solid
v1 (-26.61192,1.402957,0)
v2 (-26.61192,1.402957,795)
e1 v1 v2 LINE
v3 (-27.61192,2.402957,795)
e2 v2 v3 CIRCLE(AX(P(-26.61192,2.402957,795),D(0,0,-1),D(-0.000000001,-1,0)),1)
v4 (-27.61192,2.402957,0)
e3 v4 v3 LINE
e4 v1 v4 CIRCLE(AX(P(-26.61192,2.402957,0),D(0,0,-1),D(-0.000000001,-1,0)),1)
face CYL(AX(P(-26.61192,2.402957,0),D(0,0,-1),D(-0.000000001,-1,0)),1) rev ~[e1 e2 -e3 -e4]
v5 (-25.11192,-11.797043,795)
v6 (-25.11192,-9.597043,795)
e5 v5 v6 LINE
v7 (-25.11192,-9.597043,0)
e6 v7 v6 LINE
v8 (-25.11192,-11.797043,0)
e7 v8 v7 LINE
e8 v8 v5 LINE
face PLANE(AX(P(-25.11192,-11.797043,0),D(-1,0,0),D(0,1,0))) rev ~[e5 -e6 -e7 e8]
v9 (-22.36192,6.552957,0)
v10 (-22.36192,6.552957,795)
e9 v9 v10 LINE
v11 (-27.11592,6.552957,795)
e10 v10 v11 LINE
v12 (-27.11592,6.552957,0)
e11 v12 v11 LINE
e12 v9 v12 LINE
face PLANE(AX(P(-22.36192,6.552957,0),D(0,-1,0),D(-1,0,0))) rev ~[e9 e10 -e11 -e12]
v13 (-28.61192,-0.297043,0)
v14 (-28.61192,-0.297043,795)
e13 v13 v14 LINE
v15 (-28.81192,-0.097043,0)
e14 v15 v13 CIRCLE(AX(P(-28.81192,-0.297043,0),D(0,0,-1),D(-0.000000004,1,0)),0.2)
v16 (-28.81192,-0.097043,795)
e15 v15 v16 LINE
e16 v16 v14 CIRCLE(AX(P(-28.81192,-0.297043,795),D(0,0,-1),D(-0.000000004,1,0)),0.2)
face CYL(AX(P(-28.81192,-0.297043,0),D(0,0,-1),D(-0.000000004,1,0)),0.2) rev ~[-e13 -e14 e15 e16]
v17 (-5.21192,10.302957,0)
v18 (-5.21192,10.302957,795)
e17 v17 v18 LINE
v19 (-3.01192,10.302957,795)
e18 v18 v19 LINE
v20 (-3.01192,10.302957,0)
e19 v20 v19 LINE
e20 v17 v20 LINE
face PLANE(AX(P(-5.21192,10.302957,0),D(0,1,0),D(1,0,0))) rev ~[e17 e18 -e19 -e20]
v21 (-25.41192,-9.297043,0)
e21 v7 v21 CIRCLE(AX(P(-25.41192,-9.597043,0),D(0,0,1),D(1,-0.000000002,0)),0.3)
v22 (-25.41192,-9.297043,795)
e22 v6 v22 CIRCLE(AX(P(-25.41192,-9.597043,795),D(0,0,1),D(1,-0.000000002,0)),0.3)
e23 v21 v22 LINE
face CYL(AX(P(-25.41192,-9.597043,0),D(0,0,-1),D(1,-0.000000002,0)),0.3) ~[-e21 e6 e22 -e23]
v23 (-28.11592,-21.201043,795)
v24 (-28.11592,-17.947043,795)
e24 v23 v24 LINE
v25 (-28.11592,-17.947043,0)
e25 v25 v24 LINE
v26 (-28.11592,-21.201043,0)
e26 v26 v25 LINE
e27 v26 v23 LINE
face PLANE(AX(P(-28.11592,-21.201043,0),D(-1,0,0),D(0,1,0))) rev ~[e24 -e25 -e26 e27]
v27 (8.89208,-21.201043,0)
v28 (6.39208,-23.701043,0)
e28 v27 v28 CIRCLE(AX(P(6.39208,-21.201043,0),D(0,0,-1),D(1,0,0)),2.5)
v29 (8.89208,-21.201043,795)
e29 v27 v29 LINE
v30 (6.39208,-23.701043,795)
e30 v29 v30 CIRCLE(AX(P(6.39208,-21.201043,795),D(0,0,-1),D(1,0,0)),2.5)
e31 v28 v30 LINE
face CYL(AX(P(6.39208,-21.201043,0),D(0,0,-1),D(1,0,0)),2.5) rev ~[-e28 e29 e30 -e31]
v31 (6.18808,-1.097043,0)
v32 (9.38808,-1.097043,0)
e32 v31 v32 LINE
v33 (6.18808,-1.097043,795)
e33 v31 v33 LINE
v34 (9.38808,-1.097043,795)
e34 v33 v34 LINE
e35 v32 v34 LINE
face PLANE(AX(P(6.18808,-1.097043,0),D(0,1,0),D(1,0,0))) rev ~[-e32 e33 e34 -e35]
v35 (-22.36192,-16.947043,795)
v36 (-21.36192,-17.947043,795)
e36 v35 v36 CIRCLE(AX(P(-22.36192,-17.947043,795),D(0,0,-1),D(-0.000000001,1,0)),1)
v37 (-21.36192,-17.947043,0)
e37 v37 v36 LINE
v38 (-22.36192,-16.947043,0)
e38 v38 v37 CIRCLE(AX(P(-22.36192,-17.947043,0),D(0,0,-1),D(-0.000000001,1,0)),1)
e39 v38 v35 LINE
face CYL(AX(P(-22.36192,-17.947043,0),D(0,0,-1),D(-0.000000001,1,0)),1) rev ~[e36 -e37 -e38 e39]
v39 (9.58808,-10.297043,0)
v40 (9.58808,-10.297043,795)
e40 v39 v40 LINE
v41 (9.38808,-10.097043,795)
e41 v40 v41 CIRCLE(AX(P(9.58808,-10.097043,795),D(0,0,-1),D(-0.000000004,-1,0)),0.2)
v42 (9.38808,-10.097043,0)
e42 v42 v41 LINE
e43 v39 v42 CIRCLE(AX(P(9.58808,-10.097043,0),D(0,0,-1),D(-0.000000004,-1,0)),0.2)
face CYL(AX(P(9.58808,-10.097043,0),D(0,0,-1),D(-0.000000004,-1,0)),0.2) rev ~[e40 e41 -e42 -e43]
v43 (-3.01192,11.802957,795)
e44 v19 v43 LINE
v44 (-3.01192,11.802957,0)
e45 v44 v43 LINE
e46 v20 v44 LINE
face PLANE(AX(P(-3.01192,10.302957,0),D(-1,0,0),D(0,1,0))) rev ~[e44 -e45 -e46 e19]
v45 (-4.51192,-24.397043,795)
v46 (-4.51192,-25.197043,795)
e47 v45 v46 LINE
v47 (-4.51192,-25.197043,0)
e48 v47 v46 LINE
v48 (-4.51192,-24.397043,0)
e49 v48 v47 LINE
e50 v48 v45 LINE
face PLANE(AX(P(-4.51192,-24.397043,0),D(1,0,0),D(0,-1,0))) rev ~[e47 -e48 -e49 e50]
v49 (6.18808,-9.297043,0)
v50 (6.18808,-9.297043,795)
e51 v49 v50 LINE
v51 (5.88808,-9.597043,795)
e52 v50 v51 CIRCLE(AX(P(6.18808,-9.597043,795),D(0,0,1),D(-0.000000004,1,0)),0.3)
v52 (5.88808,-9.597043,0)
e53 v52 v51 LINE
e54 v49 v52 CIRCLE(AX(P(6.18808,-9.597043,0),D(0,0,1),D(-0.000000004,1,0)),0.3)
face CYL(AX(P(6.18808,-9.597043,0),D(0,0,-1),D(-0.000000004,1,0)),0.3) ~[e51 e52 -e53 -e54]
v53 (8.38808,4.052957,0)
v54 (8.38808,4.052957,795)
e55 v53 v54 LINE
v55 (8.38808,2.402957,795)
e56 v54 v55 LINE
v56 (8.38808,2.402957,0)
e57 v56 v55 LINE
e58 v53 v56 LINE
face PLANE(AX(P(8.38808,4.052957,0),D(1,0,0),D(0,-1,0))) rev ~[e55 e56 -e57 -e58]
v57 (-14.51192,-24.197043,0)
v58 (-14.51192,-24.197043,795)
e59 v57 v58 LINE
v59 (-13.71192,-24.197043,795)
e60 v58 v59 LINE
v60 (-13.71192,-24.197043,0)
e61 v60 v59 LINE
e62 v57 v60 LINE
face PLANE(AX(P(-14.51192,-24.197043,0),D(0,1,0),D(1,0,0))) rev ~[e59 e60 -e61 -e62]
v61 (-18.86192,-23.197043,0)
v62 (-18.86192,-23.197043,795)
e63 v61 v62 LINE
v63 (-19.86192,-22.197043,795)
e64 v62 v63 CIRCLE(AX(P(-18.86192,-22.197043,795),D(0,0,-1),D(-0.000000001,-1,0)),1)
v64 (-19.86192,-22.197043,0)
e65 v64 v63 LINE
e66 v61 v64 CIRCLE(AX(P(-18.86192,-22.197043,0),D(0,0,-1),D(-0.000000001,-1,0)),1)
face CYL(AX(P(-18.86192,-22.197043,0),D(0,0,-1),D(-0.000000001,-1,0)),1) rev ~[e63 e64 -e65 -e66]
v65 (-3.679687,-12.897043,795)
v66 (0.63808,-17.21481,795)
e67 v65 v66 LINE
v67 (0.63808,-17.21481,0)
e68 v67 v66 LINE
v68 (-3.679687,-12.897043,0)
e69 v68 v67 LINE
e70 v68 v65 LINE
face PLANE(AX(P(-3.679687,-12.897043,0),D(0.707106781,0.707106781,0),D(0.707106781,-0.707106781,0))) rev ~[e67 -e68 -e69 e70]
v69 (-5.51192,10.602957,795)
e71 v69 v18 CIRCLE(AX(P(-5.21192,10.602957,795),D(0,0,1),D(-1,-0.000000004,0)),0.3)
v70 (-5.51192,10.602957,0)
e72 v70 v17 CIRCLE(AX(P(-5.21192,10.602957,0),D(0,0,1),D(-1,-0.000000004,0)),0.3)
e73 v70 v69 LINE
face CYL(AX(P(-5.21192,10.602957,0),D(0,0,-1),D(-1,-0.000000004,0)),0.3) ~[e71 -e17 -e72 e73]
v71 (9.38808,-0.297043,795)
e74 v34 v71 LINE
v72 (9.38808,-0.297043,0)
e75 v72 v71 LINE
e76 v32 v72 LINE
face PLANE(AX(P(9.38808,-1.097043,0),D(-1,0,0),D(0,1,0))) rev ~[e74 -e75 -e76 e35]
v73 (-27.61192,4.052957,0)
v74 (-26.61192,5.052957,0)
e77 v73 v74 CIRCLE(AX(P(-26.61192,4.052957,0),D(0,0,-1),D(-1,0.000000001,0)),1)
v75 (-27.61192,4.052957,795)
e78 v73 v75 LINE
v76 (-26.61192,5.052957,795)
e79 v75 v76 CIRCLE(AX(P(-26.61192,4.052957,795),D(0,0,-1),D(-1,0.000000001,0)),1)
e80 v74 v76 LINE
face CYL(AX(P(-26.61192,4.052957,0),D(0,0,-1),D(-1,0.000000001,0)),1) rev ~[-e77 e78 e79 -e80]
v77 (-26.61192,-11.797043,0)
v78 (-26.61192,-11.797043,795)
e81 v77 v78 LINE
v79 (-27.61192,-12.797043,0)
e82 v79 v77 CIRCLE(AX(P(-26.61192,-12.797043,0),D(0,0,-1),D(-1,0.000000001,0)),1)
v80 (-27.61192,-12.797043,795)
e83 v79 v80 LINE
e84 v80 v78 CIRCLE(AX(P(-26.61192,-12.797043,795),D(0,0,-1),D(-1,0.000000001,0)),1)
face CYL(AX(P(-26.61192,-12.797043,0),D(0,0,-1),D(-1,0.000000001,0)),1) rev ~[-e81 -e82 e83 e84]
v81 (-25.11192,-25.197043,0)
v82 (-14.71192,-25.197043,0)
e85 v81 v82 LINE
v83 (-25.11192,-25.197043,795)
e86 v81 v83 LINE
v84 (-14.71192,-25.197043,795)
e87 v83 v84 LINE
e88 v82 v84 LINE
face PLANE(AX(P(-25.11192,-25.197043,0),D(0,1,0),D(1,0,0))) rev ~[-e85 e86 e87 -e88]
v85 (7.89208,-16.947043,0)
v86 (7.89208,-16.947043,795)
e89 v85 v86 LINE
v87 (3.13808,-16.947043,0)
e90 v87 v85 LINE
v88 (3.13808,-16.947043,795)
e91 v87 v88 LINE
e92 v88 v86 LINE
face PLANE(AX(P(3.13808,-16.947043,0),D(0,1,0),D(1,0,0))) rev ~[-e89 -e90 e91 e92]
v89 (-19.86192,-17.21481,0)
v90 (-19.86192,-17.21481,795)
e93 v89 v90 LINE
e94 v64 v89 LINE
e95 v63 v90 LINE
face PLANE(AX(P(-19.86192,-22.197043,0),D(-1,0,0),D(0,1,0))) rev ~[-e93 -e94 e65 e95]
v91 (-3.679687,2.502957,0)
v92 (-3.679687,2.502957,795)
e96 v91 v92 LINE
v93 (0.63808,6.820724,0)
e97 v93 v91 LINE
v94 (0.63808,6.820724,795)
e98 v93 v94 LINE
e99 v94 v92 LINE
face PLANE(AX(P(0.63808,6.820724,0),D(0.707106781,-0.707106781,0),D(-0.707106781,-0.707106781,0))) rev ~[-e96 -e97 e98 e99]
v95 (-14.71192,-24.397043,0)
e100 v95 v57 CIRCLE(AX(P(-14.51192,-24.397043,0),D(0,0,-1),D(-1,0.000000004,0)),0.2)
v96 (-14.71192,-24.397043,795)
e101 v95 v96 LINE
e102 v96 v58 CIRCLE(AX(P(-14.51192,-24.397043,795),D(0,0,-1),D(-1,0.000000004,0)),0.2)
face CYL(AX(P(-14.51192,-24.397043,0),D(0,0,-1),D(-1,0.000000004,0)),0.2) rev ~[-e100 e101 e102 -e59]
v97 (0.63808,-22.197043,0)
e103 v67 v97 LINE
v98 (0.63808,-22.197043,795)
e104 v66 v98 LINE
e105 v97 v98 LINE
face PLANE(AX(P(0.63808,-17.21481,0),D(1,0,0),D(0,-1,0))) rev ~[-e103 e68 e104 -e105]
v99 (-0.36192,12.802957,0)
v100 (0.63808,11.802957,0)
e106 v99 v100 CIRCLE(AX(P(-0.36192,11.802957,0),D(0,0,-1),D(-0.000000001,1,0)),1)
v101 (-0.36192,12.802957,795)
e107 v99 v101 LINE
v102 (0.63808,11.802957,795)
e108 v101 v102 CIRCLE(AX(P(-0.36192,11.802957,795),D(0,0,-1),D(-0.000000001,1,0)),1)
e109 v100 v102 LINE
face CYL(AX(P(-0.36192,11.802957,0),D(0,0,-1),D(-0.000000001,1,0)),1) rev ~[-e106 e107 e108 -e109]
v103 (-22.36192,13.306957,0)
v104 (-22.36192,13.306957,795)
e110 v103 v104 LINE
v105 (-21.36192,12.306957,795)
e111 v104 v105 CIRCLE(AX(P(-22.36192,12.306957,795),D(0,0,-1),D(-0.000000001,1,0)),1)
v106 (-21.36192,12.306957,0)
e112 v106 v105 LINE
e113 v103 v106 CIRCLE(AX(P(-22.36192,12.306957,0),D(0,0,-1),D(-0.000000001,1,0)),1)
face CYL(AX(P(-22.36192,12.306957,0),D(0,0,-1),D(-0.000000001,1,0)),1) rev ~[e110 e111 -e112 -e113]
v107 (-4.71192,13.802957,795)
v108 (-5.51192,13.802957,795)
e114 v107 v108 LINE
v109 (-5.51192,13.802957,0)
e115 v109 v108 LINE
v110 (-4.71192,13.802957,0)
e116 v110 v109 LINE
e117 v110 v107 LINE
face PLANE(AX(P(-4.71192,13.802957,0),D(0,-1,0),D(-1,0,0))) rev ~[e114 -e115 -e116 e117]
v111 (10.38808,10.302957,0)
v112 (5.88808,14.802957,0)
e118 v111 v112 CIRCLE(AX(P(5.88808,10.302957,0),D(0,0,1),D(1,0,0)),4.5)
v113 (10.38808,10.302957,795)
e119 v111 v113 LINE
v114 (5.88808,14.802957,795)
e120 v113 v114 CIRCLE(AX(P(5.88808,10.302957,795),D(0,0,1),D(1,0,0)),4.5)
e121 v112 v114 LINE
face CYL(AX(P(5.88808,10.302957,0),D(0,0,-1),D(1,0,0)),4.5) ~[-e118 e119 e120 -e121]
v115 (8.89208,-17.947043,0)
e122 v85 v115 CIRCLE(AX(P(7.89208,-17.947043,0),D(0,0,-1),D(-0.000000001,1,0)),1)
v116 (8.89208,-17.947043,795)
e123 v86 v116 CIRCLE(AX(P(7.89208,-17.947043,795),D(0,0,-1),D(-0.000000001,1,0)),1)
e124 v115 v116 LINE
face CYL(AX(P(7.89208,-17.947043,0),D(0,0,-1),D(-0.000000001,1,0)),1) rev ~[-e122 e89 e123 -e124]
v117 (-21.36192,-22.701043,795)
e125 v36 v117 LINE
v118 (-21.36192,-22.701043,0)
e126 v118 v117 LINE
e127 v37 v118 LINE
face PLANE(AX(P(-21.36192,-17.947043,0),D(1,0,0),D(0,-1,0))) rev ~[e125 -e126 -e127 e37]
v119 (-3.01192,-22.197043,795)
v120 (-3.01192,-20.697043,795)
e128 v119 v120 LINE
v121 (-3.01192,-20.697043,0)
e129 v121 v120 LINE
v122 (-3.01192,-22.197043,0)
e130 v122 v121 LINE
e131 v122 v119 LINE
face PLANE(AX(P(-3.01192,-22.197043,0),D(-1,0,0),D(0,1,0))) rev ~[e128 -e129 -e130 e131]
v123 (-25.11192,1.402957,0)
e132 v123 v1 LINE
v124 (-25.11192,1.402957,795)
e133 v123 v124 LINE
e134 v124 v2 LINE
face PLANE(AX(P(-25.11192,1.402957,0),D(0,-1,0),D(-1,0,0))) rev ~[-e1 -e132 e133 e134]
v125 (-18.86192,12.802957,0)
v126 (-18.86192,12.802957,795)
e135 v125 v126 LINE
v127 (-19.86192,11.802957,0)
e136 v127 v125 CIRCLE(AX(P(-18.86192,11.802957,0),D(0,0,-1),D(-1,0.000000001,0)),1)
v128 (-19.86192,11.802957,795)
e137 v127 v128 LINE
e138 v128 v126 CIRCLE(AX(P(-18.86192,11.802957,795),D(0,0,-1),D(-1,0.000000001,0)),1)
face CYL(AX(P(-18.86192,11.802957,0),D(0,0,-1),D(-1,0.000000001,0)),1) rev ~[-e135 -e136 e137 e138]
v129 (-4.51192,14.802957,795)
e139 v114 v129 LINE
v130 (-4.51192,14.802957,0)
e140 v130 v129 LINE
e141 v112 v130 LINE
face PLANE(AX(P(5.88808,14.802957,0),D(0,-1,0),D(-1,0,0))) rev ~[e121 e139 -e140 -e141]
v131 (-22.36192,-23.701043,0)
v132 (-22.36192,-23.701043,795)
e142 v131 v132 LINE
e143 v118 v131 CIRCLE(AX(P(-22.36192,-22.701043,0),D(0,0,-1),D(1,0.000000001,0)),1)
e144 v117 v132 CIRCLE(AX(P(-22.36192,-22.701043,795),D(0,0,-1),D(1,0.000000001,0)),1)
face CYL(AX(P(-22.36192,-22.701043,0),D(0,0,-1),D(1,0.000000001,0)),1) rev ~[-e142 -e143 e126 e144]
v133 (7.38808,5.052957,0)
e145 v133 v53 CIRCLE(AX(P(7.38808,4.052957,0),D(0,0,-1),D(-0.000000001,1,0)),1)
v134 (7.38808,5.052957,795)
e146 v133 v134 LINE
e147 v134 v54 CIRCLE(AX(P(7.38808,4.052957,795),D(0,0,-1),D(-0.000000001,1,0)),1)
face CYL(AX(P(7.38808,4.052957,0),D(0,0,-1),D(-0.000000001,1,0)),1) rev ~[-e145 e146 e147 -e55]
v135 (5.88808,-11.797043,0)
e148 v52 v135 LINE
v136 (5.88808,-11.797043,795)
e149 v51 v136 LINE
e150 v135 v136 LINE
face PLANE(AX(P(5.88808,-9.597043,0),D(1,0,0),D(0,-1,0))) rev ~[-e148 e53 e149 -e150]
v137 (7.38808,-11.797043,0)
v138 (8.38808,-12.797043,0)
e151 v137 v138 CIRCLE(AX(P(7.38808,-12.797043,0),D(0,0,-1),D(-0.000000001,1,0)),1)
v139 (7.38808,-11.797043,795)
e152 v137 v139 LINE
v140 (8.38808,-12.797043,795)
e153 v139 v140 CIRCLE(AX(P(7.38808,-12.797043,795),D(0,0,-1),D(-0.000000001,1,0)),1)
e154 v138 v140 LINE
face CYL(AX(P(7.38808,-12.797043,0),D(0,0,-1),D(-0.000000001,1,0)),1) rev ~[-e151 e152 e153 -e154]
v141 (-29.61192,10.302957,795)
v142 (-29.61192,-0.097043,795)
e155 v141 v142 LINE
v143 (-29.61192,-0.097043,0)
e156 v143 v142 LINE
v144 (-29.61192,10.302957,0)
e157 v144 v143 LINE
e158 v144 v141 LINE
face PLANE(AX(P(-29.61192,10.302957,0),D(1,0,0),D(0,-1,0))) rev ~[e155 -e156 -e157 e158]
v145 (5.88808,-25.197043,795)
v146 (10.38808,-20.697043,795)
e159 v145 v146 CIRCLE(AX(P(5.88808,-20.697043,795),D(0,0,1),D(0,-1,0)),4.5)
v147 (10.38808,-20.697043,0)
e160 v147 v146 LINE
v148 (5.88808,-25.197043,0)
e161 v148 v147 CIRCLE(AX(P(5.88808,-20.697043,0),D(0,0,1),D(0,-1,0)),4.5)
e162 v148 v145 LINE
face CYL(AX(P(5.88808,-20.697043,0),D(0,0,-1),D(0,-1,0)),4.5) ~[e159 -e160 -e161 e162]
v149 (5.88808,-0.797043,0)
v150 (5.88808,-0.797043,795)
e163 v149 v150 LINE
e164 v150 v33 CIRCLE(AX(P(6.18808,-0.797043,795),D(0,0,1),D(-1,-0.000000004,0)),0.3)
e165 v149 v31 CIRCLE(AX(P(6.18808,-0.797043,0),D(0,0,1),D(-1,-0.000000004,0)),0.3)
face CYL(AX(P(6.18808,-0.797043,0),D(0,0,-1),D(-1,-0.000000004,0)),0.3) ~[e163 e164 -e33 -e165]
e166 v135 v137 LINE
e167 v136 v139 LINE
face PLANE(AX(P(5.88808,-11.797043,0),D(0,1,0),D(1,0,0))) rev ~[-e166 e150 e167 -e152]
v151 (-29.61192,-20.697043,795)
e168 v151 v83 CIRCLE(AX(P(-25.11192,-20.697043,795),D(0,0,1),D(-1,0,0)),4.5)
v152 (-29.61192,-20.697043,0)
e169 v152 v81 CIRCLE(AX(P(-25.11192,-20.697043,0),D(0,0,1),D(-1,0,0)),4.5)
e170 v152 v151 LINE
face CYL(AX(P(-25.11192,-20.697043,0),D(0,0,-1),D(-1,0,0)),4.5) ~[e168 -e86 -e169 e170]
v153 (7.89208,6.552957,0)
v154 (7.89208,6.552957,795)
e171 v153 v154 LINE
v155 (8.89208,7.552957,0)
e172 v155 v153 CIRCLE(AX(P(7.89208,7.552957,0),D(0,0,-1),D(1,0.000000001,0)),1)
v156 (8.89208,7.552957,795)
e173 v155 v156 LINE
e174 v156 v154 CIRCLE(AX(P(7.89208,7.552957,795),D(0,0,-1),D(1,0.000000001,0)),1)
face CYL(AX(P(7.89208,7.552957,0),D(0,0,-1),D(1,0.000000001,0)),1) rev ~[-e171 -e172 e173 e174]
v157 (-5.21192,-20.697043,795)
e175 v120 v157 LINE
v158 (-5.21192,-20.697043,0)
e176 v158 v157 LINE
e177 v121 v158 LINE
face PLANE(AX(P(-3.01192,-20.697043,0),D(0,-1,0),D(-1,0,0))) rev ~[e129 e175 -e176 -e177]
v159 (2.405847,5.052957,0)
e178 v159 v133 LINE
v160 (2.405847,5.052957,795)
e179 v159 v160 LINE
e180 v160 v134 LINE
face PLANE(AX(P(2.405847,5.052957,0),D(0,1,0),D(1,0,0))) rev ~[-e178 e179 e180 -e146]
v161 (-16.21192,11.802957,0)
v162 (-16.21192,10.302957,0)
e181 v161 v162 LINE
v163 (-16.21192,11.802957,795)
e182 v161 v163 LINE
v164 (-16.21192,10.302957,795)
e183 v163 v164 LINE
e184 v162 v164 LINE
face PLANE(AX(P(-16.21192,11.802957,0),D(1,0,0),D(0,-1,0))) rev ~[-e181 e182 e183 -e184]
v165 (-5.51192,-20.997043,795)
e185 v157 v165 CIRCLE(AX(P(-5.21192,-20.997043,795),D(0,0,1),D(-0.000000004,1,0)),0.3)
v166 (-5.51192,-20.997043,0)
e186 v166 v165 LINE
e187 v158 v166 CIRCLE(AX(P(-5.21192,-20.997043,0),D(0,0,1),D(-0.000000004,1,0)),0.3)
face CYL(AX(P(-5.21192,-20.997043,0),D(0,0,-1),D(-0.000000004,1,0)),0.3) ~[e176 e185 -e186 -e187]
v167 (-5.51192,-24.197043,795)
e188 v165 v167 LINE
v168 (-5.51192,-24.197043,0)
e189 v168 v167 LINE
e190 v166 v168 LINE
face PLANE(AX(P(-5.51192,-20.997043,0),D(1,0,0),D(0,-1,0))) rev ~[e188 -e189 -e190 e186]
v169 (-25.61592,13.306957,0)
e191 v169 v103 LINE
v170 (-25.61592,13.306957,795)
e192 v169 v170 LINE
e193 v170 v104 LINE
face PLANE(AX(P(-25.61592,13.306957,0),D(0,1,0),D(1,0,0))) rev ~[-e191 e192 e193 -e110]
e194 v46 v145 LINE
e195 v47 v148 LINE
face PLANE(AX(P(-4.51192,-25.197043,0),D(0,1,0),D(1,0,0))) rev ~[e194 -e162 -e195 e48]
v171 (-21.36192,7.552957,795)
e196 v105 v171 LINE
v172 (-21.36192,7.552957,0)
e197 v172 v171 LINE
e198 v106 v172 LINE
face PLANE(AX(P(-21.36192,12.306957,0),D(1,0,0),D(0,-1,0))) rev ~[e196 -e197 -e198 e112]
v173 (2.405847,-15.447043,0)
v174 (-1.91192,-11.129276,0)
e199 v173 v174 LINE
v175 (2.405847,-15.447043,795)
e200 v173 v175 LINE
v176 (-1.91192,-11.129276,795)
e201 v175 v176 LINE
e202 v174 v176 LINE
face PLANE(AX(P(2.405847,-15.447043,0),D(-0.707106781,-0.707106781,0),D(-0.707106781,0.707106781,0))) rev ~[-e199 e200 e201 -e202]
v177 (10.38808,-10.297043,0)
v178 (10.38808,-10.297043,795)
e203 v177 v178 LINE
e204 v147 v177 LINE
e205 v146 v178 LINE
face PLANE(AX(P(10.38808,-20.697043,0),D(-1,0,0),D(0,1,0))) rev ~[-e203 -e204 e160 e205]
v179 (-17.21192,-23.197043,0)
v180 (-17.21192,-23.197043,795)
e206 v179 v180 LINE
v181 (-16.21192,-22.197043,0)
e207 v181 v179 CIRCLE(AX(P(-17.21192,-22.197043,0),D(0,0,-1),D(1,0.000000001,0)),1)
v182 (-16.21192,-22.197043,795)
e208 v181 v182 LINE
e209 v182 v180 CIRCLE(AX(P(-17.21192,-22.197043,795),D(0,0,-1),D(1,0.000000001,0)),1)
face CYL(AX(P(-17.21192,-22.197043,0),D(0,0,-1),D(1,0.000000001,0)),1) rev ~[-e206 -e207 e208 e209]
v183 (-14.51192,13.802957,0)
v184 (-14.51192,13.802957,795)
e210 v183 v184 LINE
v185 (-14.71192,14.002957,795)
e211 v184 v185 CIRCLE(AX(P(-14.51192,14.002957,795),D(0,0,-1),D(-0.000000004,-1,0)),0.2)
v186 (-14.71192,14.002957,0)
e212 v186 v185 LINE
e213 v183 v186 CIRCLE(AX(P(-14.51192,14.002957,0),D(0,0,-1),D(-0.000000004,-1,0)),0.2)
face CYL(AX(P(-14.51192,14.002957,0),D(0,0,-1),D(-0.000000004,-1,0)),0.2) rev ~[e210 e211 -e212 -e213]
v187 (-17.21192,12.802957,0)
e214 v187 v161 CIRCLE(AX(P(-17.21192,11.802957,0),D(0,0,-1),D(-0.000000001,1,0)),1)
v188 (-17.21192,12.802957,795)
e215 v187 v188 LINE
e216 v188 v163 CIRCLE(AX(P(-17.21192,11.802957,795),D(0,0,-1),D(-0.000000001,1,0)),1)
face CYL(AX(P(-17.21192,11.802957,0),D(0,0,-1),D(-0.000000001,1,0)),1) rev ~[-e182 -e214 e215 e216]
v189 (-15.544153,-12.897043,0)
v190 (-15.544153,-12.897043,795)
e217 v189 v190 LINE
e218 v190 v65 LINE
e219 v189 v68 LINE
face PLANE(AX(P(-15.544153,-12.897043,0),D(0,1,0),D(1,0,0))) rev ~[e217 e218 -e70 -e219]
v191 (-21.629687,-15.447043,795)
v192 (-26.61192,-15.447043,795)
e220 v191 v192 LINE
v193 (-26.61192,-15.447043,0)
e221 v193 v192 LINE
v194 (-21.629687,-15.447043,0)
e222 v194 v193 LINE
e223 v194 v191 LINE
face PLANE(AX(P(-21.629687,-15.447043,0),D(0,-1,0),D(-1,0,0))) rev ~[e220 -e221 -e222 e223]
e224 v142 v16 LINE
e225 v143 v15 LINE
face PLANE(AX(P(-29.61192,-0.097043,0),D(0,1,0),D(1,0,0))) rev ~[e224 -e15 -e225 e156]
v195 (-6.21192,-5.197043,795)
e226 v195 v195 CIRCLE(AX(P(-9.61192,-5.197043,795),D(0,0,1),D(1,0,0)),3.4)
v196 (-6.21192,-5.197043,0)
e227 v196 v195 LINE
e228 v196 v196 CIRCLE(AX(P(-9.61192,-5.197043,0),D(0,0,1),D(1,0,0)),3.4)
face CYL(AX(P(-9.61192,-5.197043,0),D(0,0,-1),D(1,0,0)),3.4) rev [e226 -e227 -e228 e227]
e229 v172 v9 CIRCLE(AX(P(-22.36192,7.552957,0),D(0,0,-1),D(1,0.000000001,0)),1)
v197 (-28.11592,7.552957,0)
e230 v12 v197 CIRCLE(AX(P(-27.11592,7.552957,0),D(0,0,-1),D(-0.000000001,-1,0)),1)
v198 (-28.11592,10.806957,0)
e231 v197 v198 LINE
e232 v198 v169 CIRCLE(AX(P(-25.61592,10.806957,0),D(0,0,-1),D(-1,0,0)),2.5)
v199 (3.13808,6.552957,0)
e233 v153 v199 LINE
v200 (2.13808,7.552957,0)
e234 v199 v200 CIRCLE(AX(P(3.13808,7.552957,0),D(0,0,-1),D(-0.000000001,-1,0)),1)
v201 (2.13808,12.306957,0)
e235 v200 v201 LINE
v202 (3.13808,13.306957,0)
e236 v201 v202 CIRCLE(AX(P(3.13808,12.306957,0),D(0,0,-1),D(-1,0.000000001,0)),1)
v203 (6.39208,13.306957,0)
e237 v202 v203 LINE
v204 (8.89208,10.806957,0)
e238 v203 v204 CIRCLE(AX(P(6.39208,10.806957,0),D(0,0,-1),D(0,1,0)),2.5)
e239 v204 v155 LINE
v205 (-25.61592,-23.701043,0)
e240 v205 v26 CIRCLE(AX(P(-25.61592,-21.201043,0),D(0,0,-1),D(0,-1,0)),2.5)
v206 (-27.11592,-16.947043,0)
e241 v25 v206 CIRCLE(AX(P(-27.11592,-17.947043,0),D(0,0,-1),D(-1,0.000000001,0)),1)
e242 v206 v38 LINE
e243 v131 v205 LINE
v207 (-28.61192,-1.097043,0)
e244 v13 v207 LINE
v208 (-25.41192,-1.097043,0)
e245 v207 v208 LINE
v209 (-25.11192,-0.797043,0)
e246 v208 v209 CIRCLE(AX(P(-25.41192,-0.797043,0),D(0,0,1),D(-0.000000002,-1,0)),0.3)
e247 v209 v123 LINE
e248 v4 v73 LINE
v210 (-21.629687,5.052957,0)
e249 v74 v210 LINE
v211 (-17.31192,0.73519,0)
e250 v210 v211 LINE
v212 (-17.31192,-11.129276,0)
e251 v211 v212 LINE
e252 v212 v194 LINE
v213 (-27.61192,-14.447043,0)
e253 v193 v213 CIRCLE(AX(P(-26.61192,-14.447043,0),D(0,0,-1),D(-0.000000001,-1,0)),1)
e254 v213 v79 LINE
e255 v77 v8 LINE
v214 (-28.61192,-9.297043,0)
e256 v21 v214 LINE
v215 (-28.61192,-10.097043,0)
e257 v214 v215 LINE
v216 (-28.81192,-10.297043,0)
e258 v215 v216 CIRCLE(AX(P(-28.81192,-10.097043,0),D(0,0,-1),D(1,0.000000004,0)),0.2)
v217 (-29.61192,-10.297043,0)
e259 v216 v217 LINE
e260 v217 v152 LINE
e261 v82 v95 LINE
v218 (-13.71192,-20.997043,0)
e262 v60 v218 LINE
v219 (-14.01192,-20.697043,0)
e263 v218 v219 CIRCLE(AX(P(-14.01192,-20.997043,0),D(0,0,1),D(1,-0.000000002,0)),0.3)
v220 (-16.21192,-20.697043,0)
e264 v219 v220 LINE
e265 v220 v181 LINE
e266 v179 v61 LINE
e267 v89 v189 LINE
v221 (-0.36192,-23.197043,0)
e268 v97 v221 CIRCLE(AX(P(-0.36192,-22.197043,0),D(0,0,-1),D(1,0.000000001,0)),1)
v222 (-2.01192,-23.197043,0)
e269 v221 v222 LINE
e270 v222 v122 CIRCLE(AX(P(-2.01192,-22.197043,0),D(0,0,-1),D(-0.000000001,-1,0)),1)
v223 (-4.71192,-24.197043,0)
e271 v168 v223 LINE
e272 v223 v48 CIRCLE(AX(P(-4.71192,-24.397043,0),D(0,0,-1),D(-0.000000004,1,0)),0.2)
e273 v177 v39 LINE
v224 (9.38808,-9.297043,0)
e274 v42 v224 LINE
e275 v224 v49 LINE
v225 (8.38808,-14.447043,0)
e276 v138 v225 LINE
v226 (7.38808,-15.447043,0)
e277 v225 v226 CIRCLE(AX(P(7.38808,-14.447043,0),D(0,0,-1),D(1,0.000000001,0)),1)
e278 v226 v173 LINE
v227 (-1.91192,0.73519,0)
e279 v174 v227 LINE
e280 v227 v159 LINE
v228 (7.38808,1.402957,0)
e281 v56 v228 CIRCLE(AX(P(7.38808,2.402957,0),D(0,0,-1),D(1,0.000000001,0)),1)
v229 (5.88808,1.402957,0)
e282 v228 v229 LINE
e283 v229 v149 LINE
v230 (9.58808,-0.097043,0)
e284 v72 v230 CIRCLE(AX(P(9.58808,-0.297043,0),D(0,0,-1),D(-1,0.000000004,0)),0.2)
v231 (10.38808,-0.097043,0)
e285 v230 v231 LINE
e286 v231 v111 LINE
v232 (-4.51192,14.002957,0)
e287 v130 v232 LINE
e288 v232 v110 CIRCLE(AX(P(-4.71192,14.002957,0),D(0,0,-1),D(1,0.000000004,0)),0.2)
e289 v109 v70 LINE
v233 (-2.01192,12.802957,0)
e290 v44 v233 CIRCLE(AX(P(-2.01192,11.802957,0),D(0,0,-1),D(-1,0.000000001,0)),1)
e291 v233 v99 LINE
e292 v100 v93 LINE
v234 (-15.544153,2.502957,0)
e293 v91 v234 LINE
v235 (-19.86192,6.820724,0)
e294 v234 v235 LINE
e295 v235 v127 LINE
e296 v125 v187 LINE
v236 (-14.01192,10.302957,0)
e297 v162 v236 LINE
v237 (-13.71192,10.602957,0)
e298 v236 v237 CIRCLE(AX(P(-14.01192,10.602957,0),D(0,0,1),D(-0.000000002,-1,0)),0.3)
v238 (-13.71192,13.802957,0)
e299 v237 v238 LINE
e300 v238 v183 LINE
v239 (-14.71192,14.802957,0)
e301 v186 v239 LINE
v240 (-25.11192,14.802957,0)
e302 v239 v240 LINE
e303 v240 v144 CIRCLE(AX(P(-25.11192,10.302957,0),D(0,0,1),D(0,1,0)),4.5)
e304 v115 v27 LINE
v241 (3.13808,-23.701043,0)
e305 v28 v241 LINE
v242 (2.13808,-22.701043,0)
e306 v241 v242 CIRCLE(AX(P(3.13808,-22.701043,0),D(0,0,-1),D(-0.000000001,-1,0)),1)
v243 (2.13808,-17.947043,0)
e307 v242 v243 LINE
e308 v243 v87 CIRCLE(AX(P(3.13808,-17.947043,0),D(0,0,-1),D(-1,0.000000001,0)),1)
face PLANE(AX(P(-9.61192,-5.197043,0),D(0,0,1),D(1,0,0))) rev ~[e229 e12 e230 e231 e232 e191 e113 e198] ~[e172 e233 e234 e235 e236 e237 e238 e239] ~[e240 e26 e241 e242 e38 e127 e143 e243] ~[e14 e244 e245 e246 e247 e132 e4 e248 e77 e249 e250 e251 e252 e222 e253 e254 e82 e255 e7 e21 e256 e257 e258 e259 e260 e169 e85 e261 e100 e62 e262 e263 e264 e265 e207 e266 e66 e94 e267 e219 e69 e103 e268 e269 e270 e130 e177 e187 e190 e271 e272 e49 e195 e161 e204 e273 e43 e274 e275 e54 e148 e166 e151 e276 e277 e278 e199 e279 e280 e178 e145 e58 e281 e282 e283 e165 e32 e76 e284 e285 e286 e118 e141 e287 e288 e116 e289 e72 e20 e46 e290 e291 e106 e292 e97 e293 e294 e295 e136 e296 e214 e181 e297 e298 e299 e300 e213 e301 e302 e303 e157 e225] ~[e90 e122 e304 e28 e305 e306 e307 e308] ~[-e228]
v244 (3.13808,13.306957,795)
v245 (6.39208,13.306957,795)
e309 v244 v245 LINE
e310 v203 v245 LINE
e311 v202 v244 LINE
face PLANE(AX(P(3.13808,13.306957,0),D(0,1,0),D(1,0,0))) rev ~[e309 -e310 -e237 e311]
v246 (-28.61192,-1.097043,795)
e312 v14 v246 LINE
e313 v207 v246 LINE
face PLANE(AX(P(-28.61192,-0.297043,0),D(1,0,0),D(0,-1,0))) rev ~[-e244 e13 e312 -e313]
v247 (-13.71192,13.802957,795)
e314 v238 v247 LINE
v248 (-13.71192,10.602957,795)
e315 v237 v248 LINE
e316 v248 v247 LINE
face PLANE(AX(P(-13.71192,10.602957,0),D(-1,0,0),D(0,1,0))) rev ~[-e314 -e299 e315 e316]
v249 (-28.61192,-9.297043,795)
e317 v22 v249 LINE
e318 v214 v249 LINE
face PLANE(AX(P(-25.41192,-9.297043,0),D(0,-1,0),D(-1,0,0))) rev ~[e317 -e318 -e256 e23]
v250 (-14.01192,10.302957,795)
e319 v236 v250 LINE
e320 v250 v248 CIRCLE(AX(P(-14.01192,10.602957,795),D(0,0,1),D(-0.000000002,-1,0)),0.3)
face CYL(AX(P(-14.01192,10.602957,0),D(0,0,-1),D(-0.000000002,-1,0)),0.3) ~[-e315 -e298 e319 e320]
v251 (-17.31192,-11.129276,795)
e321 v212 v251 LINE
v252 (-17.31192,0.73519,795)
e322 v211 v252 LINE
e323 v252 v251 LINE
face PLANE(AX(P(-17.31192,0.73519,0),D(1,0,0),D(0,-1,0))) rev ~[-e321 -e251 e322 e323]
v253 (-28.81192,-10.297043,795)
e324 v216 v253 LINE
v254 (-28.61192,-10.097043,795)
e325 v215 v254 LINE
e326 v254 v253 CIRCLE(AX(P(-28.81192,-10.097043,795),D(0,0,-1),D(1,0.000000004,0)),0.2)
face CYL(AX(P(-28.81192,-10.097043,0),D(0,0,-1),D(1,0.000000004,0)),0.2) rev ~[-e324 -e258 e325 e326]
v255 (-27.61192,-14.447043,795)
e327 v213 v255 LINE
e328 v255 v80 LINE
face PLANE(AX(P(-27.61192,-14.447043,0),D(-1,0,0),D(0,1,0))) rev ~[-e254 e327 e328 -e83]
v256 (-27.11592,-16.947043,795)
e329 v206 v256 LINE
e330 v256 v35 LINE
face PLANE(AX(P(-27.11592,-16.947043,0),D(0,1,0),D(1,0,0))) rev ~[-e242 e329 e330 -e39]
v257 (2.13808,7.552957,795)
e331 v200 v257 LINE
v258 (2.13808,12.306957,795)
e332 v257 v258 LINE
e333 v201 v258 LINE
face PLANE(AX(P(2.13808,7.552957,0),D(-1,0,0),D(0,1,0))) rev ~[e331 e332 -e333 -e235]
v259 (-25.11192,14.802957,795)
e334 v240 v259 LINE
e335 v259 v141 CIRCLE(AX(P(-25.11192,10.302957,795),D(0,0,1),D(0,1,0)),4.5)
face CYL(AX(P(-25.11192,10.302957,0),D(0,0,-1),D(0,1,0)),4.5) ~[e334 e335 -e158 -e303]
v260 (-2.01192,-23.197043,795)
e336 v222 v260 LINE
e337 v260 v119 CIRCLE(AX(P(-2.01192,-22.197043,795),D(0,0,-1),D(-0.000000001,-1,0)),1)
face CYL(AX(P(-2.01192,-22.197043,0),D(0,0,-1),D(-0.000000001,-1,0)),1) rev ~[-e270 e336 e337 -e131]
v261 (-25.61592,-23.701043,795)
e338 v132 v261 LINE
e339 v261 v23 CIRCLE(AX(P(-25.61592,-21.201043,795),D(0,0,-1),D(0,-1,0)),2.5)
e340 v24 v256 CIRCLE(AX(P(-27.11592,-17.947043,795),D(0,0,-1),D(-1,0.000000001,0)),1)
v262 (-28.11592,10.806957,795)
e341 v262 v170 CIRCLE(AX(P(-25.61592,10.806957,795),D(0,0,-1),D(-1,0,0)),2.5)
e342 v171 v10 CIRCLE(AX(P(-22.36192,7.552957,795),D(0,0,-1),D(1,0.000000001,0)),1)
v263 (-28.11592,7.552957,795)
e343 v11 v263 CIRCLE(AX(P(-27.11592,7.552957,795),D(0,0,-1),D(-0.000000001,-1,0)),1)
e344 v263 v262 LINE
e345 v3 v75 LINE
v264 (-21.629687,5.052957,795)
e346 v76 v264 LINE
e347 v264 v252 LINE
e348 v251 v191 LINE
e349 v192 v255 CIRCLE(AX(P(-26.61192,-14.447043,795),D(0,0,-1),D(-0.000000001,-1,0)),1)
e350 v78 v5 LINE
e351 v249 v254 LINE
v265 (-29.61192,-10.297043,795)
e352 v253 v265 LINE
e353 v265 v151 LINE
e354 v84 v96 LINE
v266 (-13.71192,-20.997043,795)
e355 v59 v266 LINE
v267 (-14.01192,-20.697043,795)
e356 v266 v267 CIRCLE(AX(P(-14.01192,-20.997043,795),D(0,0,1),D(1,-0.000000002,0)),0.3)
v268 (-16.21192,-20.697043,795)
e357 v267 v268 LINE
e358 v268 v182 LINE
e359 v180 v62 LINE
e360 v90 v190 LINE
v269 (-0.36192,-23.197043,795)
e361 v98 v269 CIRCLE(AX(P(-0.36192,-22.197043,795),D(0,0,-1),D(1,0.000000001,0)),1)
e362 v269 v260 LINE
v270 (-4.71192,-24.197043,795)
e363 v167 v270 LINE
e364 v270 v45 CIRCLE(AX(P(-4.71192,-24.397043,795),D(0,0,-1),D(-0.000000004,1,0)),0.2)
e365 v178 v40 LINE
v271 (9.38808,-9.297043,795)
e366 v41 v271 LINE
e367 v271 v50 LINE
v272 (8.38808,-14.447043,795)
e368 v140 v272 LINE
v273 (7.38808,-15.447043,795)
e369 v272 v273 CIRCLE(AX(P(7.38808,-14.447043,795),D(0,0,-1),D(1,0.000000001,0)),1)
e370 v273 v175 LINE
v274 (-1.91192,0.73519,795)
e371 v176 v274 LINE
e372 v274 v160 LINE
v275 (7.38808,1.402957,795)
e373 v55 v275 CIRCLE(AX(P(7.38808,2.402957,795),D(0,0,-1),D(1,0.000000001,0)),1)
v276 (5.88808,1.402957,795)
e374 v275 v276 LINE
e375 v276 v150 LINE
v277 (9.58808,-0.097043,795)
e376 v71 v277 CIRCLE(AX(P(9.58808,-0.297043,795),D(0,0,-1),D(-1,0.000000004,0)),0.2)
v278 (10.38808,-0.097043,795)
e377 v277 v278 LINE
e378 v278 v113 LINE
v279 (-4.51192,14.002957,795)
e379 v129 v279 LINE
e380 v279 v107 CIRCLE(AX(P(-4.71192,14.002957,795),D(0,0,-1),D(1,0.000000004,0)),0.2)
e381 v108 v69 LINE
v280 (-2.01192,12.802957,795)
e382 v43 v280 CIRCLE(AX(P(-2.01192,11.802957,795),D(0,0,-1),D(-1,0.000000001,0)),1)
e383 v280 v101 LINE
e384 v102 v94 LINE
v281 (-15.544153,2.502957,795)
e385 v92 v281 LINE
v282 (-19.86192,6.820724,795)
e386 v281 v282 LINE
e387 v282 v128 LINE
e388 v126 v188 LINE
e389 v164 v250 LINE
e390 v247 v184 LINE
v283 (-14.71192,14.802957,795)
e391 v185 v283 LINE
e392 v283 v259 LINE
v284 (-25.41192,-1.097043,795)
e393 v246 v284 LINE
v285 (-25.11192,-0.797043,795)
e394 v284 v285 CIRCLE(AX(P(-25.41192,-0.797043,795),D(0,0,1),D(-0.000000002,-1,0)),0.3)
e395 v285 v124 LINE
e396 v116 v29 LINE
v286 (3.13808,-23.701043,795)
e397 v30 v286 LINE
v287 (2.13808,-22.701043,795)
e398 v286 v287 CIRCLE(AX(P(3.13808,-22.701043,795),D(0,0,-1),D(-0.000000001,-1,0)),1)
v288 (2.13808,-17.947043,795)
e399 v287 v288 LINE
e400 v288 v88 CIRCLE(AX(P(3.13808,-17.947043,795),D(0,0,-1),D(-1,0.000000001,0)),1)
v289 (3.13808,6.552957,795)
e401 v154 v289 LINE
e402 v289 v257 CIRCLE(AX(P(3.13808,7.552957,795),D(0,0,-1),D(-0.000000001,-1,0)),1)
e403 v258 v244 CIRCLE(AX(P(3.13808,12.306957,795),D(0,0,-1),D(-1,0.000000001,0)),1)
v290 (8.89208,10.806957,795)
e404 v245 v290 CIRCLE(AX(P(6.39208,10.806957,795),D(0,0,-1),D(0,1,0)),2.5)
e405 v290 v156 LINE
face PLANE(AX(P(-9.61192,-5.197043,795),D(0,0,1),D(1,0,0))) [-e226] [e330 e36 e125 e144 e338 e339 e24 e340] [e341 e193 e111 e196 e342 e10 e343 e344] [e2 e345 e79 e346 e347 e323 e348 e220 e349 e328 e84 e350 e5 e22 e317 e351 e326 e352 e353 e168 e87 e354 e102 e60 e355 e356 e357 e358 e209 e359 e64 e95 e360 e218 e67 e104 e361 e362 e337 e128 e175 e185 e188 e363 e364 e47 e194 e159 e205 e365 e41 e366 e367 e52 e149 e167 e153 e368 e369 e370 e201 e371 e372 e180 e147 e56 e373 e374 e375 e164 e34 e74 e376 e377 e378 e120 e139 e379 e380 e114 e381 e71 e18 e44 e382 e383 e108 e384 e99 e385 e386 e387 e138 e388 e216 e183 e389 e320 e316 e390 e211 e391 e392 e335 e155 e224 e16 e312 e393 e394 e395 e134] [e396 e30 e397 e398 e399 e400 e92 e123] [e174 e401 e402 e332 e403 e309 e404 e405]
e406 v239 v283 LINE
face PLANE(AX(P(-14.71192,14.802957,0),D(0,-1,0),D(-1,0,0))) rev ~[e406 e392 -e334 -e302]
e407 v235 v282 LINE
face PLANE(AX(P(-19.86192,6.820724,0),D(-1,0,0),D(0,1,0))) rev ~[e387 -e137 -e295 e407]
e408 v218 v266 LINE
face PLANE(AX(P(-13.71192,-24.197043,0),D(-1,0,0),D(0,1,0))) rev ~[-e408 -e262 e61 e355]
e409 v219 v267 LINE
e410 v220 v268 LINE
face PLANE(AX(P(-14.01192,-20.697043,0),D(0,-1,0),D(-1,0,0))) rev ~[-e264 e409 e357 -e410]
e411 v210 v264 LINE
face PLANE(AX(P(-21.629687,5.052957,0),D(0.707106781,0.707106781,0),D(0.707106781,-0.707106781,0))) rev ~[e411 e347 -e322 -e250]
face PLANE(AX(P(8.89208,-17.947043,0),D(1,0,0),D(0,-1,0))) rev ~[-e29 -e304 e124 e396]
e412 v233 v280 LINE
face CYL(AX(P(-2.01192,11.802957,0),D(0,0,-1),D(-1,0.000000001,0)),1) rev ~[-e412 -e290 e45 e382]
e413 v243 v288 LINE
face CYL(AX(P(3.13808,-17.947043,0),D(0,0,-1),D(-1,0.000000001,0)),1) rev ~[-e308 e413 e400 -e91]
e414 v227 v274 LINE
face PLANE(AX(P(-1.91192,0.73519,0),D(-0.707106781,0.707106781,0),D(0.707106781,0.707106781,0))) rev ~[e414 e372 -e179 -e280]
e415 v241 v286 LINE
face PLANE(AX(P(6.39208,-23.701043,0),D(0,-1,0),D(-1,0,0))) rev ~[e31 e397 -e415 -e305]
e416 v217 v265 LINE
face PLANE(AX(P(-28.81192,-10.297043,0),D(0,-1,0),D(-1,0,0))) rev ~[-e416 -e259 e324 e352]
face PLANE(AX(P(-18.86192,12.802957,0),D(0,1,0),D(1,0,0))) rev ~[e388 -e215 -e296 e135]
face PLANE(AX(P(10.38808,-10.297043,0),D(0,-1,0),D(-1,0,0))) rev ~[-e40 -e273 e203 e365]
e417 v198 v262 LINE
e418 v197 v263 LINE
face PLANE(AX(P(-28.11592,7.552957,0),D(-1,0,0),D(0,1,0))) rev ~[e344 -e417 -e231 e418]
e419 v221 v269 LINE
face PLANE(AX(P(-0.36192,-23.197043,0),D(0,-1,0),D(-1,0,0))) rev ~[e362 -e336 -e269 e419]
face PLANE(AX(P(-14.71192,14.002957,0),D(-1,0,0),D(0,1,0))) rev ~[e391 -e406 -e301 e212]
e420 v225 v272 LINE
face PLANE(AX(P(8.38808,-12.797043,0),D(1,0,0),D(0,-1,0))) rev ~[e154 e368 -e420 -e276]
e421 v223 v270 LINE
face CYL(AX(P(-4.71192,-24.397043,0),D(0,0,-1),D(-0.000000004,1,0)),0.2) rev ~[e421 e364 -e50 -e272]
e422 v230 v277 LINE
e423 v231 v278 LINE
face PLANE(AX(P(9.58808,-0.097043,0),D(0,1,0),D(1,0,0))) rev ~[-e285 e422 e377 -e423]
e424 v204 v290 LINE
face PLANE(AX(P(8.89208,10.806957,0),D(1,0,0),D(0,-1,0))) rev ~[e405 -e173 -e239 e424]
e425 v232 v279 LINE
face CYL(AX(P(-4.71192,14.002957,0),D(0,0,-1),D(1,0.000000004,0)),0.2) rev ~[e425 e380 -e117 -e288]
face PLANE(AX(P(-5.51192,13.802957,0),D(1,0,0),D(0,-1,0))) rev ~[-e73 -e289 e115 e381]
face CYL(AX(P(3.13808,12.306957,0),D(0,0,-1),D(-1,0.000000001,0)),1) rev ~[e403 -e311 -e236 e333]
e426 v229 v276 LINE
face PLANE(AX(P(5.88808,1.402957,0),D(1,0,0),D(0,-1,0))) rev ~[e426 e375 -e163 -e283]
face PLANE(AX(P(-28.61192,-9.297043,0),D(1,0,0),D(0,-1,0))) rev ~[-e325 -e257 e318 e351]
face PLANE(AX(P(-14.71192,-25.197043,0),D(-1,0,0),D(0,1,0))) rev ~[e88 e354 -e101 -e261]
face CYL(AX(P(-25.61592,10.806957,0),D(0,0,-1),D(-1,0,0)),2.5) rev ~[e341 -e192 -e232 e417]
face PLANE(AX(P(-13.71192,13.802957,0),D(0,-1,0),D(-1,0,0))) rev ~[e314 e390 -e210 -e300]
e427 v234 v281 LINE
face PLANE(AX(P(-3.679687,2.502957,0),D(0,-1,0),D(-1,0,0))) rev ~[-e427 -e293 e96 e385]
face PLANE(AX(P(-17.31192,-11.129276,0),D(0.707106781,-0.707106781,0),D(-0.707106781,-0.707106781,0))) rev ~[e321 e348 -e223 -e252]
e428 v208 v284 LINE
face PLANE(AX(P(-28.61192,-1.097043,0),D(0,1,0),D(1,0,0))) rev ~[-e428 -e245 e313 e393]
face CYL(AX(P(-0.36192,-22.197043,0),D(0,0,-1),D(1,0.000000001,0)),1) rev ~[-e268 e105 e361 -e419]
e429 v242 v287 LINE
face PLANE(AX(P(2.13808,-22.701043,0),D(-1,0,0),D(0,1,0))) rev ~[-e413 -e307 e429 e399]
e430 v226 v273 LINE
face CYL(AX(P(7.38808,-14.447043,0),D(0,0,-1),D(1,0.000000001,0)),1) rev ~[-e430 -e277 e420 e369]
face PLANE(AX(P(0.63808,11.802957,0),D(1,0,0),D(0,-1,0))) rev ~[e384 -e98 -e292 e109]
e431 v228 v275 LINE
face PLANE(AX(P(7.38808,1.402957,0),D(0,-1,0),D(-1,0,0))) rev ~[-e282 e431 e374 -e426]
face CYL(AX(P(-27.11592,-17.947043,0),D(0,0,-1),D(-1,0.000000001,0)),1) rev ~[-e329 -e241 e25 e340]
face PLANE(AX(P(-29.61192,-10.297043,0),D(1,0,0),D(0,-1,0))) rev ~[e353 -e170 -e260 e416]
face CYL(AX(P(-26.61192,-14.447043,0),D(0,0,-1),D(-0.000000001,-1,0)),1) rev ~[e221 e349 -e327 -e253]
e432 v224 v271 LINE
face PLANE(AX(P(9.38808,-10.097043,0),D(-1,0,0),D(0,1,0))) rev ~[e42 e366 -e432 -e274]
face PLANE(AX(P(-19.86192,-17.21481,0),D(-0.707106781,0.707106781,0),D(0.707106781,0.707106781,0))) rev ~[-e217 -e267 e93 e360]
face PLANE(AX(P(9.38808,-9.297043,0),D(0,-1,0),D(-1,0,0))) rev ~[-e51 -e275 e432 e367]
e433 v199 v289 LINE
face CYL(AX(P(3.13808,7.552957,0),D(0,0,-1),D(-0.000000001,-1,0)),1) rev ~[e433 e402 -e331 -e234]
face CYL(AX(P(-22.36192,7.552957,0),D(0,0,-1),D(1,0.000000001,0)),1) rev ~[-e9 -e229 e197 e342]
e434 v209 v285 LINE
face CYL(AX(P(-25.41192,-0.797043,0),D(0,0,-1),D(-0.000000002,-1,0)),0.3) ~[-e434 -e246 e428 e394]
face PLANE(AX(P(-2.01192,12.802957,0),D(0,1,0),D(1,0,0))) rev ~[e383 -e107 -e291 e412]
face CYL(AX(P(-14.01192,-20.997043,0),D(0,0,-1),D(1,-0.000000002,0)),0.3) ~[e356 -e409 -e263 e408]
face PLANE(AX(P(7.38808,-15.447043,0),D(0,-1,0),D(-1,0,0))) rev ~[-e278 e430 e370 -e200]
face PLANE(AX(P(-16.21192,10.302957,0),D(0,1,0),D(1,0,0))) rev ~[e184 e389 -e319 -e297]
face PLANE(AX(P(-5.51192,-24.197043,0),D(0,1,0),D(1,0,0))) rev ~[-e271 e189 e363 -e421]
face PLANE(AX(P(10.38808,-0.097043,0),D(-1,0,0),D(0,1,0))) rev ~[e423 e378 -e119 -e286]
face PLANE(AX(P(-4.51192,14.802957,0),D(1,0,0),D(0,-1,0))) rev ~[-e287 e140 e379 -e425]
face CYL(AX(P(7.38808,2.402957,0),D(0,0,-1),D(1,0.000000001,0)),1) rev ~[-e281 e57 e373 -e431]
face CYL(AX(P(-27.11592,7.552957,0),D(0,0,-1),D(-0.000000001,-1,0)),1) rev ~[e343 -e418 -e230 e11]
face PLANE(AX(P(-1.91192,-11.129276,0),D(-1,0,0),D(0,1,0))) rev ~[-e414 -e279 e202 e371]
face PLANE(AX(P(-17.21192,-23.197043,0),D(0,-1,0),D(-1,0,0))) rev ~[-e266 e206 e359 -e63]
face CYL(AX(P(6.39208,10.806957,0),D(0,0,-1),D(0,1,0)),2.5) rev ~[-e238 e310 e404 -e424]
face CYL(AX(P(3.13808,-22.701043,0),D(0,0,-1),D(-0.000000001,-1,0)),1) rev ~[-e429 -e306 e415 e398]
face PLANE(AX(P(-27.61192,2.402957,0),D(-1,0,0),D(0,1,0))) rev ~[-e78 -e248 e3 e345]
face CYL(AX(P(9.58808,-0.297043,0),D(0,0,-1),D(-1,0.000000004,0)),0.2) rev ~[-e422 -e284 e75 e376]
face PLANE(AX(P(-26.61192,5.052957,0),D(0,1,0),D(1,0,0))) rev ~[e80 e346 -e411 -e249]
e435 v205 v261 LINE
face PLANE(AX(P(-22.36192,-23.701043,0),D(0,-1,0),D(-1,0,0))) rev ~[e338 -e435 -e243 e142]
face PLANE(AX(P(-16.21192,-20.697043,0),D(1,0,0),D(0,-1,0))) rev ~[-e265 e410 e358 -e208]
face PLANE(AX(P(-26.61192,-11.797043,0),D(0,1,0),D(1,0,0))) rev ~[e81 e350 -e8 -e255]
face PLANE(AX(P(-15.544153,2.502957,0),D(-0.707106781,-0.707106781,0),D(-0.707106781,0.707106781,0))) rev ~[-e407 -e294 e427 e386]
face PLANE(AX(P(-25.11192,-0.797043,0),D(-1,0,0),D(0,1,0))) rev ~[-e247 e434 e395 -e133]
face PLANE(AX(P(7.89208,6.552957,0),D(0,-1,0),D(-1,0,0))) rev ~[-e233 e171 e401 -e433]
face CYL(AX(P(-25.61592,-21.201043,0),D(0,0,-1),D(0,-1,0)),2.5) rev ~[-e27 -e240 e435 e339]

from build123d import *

# Parameters (mm, degrees)
SKETCH_1_R      = 3.4
EXTRUDE_1_DEPTH = 795


with BuildPart() as part:
    # 草图1 → 凸台-拉伸1 (new body)
    with BuildSketch(Plane.XY):
        with BuildLine():
            Line((-1.911920332, 0.735190406), (2.405846621, 5.052957359))
            Line((2.405846621, 5.052957359), (7.388079668, 5.052957359))
            ThreePointArc((7.388079668, 5.052957359), (8.09518645, 4.76006414), (8.388079668, 4.052957359))
            Line((8.388079668, 4.052957359), (8.388079668, 2.402957359))
            ThreePointArc((8.388079668, 2.402957359), (8.09518645, 1.695850578), (7.388079668, 1.402957359))
            Line((7.388079668, 1.402957359), (5.888079668, 1.402957359))
            Line((5.888079668, 1.402957359), (5.888079668, -0.797042641))
            ThreePointArc((5.888079668, -0.797042641), (5.975947634, -1.009174675), (6.188079668, -1.097042641))
            Line((6.188079668, -1.097042641), (9.388079668, -1.097042641))
            Line((9.388079668, -1.097042641), (9.388079668, -0.297042641))
            ThreePointArc((9.388079668, -0.297042641), (9.446658312, -0.155621285), (9.588079668, -0.097042641))
            Line((9.588079668, -0.097042641), (10.388079668, -0.097042641))
            Line((10.388079668, -0.097042641), (10.388079668, 10.302957359))
            ThreePointArc((10.388079668, 10.302957359), (9.070060184, 13.484937874), (5.888079668, 14.802957359))
            Line((5.888079668, 14.802957359), (-4.511920332, 14.802957359))
            Line((-4.511920332, 14.802957359), (-4.511920332, 14.002957359))
            ThreePointArc((-4.511920332, 14.002957359), (-4.570498975, 13.861536003), (-4.711920332, 13.802957359))
            Line((-4.711920332, 13.802957359), (-5.511920332, 13.802957359))
            Line((-5.511920332, 13.802957359), (-5.511920332, 10.602957359))
            ThreePointArc((-5.511920332, 10.602957359), (-5.424052366, 10.390825325), (-5.211920332, 10.302957359))
            Line((-5.211920332, 10.302957359), (-3.011920332, 10.302957359))
            Line((-3.011920332, 10.302957359), (-3.011920332, 11.802957359))
            ThreePointArc((-3.011920332, 11.802957359), (-2.719027113, 12.51006414), (-2.011920332, 12.802957359))
            Line((-2.011920332, 12.802957359), (-0.361920332, 12.802957359))
            ThreePointArc((-0.361920332, 12.802957359), (0.34518645, 12.51006414), (0.638079668, 11.802957359))
            Line((0.638079668, 11.802957359), (0.638079668, 6.820724312))
            Line((0.638079668, 6.820724312), (-3.679687285, 2.502957359))
            Line((-3.679687285, 2.502957359), (-15.544153379, 2.502957359))
            Line((-15.544153379, 2.502957359), (-19.861920332, 6.820724312))
            Line((-19.861920332, 6.820724312), (-19.861920332, 11.802957359))
            ThreePointArc((-19.861920332, 11.802957359), (-19.569027113, 12.51006414), (-18.861920332, 12.802957359))
            Line((-18.861920332, 12.802957359), (-17.211920332, 12.802957359))
            ThreePointArc((-17.211920332, 12.802957359), (-16.50481355, 12.51006414), (-16.211920332, 11.802957359))
            Line((-16.211920332, 11.802957359), (-16.211920332, 10.302957359))
            Line((-16.211920332, 10.302957359), (-14.011920332, 10.302957359))
            ThreePointArc((-14.011920332, 10.302957359), (-13.799788297, 10.390825325), (-13.711920332, 10.602957359))
            Line((-13.711920332, 10.602957359), (-13.711920332, 13.802957359))
            Line((-13.711920332, 13.802957359), (-14.511920332, 13.802957359))
            ThreePointArc((-14.511920332, 13.802957359), (-14.653341688, 13.861536003), (-14.711920332, 14.002957359))
            Line((-14.711920332, 14.002957359), (-14.711920332, 14.802957359))
            Line((-14.711920332, 14.802957359), (-25.111920332, 14.802957359))
            ThreePointArc((-25.111920332, 14.802957359), (-28.293900847, 13.484937874), (-29.611920332, 10.302957359))
            Line((-29.611920332, 10.302957359), (-29.611920332, -0.097042641))
            Line((-29.611920332, -0.097042641), (-28.811920332, -0.097042641))
            ThreePointArc((-28.811920332, -0.097042641), (-28.670498975, -0.155621285), (-28.611920332, -0.297042641))
            Line((-28.611920332, -0.297042641), (-28.611920332, -1.097042641))
            Line((-28.611920332, -1.097042641), (-25.411920332, -1.097042641))
            ThreePointArc((-25.411920332, -1.097042641), (-25.199788297, -1.009174675), (-25.111920332, -0.797042641))
            Line((-25.111920332, -0.797042641), (-25.111920332, 1.402957359))
            Line((-25.111920332, 1.402957359), (-26.611920332, 1.402957359))
            ThreePointArc((-26.611920332, 1.402957359), (-27.319027113, 1.695850578), (-27.611920332, 2.402957359))
            Line((-27.611920332, 2.402957359), (-27.611920332, 4.052957359))
            ThreePointArc((-27.611920332, 4.052957359), (-27.319027113, 4.76006414), (-26.611920332, 5.052957359))
            Line((-26.611920332, 5.052957359), (-21.629687285, 5.052957359))
            Line((-21.629687285, 5.052957359), (-17.311920332, 0.735190406))
            Line((-17.311920332, 0.735190406), (-17.311920332, -11.129275688))
            Line((-17.311920332, -11.129275688), (-21.629687285, -15.447042641))
            Line((-21.629687285, -15.447042641), (-26.611920332, -15.447042641))
            ThreePointArc((-26.611920332, -15.447042641), (-27.319027113, -15.154149422), (-27.611920332, -14.447042641))
            Line((-27.611920332, -14.447042641), (-27.611920332, -12.797042641))
            ThreePointArc((-27.611920332, -12.797042641), (-27.319027113, -12.08993586), (-26.611920332, -11.797042641))
            Line((-26.611920332, -11.797042641), (-25.111920332, -11.797042641))
            Line((-25.111920332, -11.797042641), (-25.111920332, -9.597042641))
            ThreePointArc((-25.111920332, -9.597042641), (-25.199788297, -9.384910607), (-25.411920332, -9.297042641))
            Line((-25.411920332, -9.297042641), (-28.611920332, -9.297042641))
            Line((-28.611920332, -9.297042641), (-28.611920332, -10.097042641))
            ThreePointArc((-28.611920332, -10.097042641), (-28.670498975, -10.238463997), (-28.811920332, -10.297042641))
            Line((-28.811920332, -10.297042641), (-29.611920332, -10.297042641))
            Line((-29.611920332, -10.297042641), (-29.611920332, -20.697042641))
            ThreePointArc((-29.611920332, -20.697042641), (-28.293900847, -23.879023156), (-25.111920332, -25.197042641))
            Line((-25.111920332, -25.197042641), (-14.711920332, -25.197042641))
            Line((-14.711920332, -25.197042641), (-14.711920332, -24.397042641))
            ThreePointArc((-14.711920332, -24.397042641), (-14.653341688, -24.255621285), (-14.511920332, -24.197042641))
            Line((-14.511920332, -24.197042641), (-13.711920332, -24.197042641))
            Line((-13.711920332, -24.197042641), (-13.711920332, -20.997042641))
            ThreePointArc((-13.711920332, -20.997042641), (-13.799788297, -20.784910607), (-14.011920332, -20.697042641))
            Line((-14.011920332, -20.697042641), (-16.211920332, -20.697042641))
            Line((-16.211920332, -20.697042641), (-16.211920332, -22.197042641))
            ThreePointArc((-16.211920332, -22.197042641), (-16.50481355, -22.904149422), (-17.211920332, -23.197042641))
            Line((-17.211920332, -23.197042641), (-18.861920332, -23.197042641))
            ThreePointArc((-18.861920332, -23.197042641), (-19.569027113, -22.904149422), (-19.861920332, -22.197042641))
            Line((-19.861920332, -22.197042641), (-19.861920332, -17.214809594))
            Line((-19.861920332, -17.214809594), (-15.544153379, -12.897042641))
            Line((-15.544153379, -12.897042641), (-3.679687285, -12.897042641))
            Line((-3.679687285, -12.897042641), (0.638079668, -17.214809594))
            Line((0.638079668, -17.214809594), (0.638079668, -22.197042641))
            ThreePointArc((0.638079668, -22.197042641), (0.34518645, -22.904149422), (-0.361920332, -23.197042641))
            Line((-0.361920332, -23.197042641), (-2.011920332, -23.197042641))
            ThreePointArc((-2.011920332, -23.197042641), (-2.719027113, -22.904149422), (-3.011920332, -22.197042641))
            Line((-3.011920332, -22.197042641), (-3.011920332, -20.697042641))
            Line((-3.011920332, -20.697042641), (-5.211920332, -20.697042641))
            ThreePointArc((-5.211920332, -20.697042641), (-5.424052366, -20.784910607), (-5.511920332, -20.997042641))
            Line((-5.511920332, -20.997042641), (-5.511920332, -24.197042641))
            Line((-5.511920332, -24.197042641), (-4.711920332, -24.197042641))
            ThreePointArc((-4.711920332, -24.197042641), (-4.570498975, -24.255621285), (-4.511920332, -24.397042641))
            Line((-4.511920332, -24.397042641), (-4.511920332, -25.197042641))
            Line((-4.511920332, -25.197042641), (5.888079668, -25.197042641))
            ThreePointArc((5.888079668, -25.197042641), (9.070060184, -23.879023156), (10.388079668, -20.697042641))
            Line((10.388079668, -20.697042641), (10.388079668, -10.297042641))
            Line((10.388079668, -10.297042641), (9.588079668, -10.297042641))
            ThreePointArc((9.588079668, -10.297042641), (9.446658312, -10.238463997), (9.388079668, -10.097042641))
            Line((9.388079668, -10.097042641), (9.388079668, -9.297042641))
            Line((9.388079668, -9.297042641), (6.188079668, -9.297042641))
            ThreePointArc((6.188079668, -9.297042641), (5.975947634, -9.384910607), (5.888079668, -9.597042641))
            Line((5.888079668, -9.597042641), (5.888079668, -11.797042641))
            Line((5.888079668, -11.797042641), (7.388079668, -11.797042641))
            ThreePointArc((7.388079668, -11.797042641), (8.09518645, -12.08993586), (8.388079668, -12.797042641))
            Line((8.388079668, -12.797042641), (8.388079668, -14.447042641))
            ThreePointArc((8.388079668, -14.447042641), (8.09518645, -15.154149422), (7.388079668, -15.447042641))
            Line((7.388079668, -15.447042641), (2.405846621, -15.447042641))
            Line((2.405846621, -15.447042641), (-1.911920332, -11.129275688))
            Line((-1.911920332, -11.129275688), (-1.911920332, 0.735190406))
        make_face()
        with Locations((-9.611920332, -5.197042641)):
            Circle(SKETCH_1_R, mode=Mode.SUBTRACT)
        with BuildLine():
            Line((3.138079668, -16.947042641), (7.892079668, -16.947042641))
            ThreePointArc((7.892079668, -16.947042641), (8.59918645, -17.23993586), (8.892079668, -17.947042641))
            Line((8.892079668, -17.947042641), (8.892079668, -21.201042641))
            ThreePointArc((8.892079668, -21.201042641), (8.159846621, -22.968809594), (6.392079668, -23.701042641))
            Line((6.392079668, -23.701042641), (3.138079668, -23.701042641))
            ThreePointArc((3.138079668, -23.701042641), (2.430972887, -23.408149422), (2.138079668, -22.701042641))
            Line((2.138079668, -22.701042641), (2.138079668, -17.947042641))
            ThreePointArc((2.138079668, -17.947042641), (2.430972887, -17.23993586), (3.138079668, -16.947042641))
        make_face(mode=Mode.SUBTRACT)
        with BuildLine():
            Line((-21.361920332, -17.947042641), (-21.361920332, -22.701042641))
            ThreePointArc((-21.361920332, -22.701042641), (-21.65481355, -23.408149422), (-22.361920332, -23.701042641))
            Line((-22.361920332, -23.701042641), (-25.615920332, -23.701042641))
            ThreePointArc((-25.615920332, -23.701042641), (-27.383687285, -22.968809594), (-28.115920332, -21.201042641))
            Line((-28.115920332, -21.201042641), (-28.115920332, -17.947042641))
            ThreePointArc((-28.115920332, -17.947042641), (-27.823027113, -17.23993586), (-27.115920332, -16.947042641))
            Line((-27.115920332, -16.947042641), (-22.361920332, -16.947042641))
            ThreePointArc((-22.361920332, -16.947042641), (-21.65481355, -17.23993586), (-21.361920332, -17.947042641))
        make_face(mode=Mode.SUBTRACT)
        with BuildLine():
            Line((2.138079668, 7.552957359), (2.138079668, 12.306957359))
            ThreePointArc((2.138079668, 12.306957359), (2.430972887, 13.01406414), (3.138079668, 13.306957359))
            Line((3.138079668, 13.306957359), (6.392079668, 13.306957359))
            ThreePointArc((6.392079668, 13.306957359), (8.159846621, 12.574724312), (8.892079668, 10.806957359))
            Line((8.892079668, 10.806957359), (8.892079668, 7.552957359))
            ThreePointArc((8.892079668, 7.552957359), (8.59918645, 6.845850578), (7.892079668, 6.552957359))
            Line((7.892079668, 6.552957359), (3.138079668, 6.552957359))
            ThreePointArc((3.138079668, 6.552957359), (2.430972887, 6.845850578), (2.138079668, 7.552957359))
        make_face(mode=Mode.SUBTRACT)
        with BuildLine():
            Line((-22.361920332, 6.552957359), (-27.115920332, 6.552957359))
            ThreePointArc((-27.115920332, 6.552957359), (-27.823027113, 6.845850578), (-28.115920332, 7.552957359))
            Line((-28.115920332, 7.552957359), (-28.115920332, 10.806957359))
            ThreePointArc((-28.115920332, 10.806957359), (-27.383687285, 12.574724312), (-25.615920332, 13.306957359))
            Line((-25.615920332, 13.306957359), (-22.361920332, 13.306957359))
            ThreePointArc((-22.361920332, 13.306957359), (-21.65481355, 13.01406414), (-21.361920332, 12.306957359))
            Line((-21.361920332, 12.306957359), (-21.361920332, 7.552957359))
            ThreePointArc((-21.361920332, 7.552957359), (-21.65481355, 6.845850578), (-22.361920332, 6.552957359))
        make_face(mode=Mode.SUBTRACT)
    extrude(amount=EXTRUDE_1_DEPTH)


solid = part.part
